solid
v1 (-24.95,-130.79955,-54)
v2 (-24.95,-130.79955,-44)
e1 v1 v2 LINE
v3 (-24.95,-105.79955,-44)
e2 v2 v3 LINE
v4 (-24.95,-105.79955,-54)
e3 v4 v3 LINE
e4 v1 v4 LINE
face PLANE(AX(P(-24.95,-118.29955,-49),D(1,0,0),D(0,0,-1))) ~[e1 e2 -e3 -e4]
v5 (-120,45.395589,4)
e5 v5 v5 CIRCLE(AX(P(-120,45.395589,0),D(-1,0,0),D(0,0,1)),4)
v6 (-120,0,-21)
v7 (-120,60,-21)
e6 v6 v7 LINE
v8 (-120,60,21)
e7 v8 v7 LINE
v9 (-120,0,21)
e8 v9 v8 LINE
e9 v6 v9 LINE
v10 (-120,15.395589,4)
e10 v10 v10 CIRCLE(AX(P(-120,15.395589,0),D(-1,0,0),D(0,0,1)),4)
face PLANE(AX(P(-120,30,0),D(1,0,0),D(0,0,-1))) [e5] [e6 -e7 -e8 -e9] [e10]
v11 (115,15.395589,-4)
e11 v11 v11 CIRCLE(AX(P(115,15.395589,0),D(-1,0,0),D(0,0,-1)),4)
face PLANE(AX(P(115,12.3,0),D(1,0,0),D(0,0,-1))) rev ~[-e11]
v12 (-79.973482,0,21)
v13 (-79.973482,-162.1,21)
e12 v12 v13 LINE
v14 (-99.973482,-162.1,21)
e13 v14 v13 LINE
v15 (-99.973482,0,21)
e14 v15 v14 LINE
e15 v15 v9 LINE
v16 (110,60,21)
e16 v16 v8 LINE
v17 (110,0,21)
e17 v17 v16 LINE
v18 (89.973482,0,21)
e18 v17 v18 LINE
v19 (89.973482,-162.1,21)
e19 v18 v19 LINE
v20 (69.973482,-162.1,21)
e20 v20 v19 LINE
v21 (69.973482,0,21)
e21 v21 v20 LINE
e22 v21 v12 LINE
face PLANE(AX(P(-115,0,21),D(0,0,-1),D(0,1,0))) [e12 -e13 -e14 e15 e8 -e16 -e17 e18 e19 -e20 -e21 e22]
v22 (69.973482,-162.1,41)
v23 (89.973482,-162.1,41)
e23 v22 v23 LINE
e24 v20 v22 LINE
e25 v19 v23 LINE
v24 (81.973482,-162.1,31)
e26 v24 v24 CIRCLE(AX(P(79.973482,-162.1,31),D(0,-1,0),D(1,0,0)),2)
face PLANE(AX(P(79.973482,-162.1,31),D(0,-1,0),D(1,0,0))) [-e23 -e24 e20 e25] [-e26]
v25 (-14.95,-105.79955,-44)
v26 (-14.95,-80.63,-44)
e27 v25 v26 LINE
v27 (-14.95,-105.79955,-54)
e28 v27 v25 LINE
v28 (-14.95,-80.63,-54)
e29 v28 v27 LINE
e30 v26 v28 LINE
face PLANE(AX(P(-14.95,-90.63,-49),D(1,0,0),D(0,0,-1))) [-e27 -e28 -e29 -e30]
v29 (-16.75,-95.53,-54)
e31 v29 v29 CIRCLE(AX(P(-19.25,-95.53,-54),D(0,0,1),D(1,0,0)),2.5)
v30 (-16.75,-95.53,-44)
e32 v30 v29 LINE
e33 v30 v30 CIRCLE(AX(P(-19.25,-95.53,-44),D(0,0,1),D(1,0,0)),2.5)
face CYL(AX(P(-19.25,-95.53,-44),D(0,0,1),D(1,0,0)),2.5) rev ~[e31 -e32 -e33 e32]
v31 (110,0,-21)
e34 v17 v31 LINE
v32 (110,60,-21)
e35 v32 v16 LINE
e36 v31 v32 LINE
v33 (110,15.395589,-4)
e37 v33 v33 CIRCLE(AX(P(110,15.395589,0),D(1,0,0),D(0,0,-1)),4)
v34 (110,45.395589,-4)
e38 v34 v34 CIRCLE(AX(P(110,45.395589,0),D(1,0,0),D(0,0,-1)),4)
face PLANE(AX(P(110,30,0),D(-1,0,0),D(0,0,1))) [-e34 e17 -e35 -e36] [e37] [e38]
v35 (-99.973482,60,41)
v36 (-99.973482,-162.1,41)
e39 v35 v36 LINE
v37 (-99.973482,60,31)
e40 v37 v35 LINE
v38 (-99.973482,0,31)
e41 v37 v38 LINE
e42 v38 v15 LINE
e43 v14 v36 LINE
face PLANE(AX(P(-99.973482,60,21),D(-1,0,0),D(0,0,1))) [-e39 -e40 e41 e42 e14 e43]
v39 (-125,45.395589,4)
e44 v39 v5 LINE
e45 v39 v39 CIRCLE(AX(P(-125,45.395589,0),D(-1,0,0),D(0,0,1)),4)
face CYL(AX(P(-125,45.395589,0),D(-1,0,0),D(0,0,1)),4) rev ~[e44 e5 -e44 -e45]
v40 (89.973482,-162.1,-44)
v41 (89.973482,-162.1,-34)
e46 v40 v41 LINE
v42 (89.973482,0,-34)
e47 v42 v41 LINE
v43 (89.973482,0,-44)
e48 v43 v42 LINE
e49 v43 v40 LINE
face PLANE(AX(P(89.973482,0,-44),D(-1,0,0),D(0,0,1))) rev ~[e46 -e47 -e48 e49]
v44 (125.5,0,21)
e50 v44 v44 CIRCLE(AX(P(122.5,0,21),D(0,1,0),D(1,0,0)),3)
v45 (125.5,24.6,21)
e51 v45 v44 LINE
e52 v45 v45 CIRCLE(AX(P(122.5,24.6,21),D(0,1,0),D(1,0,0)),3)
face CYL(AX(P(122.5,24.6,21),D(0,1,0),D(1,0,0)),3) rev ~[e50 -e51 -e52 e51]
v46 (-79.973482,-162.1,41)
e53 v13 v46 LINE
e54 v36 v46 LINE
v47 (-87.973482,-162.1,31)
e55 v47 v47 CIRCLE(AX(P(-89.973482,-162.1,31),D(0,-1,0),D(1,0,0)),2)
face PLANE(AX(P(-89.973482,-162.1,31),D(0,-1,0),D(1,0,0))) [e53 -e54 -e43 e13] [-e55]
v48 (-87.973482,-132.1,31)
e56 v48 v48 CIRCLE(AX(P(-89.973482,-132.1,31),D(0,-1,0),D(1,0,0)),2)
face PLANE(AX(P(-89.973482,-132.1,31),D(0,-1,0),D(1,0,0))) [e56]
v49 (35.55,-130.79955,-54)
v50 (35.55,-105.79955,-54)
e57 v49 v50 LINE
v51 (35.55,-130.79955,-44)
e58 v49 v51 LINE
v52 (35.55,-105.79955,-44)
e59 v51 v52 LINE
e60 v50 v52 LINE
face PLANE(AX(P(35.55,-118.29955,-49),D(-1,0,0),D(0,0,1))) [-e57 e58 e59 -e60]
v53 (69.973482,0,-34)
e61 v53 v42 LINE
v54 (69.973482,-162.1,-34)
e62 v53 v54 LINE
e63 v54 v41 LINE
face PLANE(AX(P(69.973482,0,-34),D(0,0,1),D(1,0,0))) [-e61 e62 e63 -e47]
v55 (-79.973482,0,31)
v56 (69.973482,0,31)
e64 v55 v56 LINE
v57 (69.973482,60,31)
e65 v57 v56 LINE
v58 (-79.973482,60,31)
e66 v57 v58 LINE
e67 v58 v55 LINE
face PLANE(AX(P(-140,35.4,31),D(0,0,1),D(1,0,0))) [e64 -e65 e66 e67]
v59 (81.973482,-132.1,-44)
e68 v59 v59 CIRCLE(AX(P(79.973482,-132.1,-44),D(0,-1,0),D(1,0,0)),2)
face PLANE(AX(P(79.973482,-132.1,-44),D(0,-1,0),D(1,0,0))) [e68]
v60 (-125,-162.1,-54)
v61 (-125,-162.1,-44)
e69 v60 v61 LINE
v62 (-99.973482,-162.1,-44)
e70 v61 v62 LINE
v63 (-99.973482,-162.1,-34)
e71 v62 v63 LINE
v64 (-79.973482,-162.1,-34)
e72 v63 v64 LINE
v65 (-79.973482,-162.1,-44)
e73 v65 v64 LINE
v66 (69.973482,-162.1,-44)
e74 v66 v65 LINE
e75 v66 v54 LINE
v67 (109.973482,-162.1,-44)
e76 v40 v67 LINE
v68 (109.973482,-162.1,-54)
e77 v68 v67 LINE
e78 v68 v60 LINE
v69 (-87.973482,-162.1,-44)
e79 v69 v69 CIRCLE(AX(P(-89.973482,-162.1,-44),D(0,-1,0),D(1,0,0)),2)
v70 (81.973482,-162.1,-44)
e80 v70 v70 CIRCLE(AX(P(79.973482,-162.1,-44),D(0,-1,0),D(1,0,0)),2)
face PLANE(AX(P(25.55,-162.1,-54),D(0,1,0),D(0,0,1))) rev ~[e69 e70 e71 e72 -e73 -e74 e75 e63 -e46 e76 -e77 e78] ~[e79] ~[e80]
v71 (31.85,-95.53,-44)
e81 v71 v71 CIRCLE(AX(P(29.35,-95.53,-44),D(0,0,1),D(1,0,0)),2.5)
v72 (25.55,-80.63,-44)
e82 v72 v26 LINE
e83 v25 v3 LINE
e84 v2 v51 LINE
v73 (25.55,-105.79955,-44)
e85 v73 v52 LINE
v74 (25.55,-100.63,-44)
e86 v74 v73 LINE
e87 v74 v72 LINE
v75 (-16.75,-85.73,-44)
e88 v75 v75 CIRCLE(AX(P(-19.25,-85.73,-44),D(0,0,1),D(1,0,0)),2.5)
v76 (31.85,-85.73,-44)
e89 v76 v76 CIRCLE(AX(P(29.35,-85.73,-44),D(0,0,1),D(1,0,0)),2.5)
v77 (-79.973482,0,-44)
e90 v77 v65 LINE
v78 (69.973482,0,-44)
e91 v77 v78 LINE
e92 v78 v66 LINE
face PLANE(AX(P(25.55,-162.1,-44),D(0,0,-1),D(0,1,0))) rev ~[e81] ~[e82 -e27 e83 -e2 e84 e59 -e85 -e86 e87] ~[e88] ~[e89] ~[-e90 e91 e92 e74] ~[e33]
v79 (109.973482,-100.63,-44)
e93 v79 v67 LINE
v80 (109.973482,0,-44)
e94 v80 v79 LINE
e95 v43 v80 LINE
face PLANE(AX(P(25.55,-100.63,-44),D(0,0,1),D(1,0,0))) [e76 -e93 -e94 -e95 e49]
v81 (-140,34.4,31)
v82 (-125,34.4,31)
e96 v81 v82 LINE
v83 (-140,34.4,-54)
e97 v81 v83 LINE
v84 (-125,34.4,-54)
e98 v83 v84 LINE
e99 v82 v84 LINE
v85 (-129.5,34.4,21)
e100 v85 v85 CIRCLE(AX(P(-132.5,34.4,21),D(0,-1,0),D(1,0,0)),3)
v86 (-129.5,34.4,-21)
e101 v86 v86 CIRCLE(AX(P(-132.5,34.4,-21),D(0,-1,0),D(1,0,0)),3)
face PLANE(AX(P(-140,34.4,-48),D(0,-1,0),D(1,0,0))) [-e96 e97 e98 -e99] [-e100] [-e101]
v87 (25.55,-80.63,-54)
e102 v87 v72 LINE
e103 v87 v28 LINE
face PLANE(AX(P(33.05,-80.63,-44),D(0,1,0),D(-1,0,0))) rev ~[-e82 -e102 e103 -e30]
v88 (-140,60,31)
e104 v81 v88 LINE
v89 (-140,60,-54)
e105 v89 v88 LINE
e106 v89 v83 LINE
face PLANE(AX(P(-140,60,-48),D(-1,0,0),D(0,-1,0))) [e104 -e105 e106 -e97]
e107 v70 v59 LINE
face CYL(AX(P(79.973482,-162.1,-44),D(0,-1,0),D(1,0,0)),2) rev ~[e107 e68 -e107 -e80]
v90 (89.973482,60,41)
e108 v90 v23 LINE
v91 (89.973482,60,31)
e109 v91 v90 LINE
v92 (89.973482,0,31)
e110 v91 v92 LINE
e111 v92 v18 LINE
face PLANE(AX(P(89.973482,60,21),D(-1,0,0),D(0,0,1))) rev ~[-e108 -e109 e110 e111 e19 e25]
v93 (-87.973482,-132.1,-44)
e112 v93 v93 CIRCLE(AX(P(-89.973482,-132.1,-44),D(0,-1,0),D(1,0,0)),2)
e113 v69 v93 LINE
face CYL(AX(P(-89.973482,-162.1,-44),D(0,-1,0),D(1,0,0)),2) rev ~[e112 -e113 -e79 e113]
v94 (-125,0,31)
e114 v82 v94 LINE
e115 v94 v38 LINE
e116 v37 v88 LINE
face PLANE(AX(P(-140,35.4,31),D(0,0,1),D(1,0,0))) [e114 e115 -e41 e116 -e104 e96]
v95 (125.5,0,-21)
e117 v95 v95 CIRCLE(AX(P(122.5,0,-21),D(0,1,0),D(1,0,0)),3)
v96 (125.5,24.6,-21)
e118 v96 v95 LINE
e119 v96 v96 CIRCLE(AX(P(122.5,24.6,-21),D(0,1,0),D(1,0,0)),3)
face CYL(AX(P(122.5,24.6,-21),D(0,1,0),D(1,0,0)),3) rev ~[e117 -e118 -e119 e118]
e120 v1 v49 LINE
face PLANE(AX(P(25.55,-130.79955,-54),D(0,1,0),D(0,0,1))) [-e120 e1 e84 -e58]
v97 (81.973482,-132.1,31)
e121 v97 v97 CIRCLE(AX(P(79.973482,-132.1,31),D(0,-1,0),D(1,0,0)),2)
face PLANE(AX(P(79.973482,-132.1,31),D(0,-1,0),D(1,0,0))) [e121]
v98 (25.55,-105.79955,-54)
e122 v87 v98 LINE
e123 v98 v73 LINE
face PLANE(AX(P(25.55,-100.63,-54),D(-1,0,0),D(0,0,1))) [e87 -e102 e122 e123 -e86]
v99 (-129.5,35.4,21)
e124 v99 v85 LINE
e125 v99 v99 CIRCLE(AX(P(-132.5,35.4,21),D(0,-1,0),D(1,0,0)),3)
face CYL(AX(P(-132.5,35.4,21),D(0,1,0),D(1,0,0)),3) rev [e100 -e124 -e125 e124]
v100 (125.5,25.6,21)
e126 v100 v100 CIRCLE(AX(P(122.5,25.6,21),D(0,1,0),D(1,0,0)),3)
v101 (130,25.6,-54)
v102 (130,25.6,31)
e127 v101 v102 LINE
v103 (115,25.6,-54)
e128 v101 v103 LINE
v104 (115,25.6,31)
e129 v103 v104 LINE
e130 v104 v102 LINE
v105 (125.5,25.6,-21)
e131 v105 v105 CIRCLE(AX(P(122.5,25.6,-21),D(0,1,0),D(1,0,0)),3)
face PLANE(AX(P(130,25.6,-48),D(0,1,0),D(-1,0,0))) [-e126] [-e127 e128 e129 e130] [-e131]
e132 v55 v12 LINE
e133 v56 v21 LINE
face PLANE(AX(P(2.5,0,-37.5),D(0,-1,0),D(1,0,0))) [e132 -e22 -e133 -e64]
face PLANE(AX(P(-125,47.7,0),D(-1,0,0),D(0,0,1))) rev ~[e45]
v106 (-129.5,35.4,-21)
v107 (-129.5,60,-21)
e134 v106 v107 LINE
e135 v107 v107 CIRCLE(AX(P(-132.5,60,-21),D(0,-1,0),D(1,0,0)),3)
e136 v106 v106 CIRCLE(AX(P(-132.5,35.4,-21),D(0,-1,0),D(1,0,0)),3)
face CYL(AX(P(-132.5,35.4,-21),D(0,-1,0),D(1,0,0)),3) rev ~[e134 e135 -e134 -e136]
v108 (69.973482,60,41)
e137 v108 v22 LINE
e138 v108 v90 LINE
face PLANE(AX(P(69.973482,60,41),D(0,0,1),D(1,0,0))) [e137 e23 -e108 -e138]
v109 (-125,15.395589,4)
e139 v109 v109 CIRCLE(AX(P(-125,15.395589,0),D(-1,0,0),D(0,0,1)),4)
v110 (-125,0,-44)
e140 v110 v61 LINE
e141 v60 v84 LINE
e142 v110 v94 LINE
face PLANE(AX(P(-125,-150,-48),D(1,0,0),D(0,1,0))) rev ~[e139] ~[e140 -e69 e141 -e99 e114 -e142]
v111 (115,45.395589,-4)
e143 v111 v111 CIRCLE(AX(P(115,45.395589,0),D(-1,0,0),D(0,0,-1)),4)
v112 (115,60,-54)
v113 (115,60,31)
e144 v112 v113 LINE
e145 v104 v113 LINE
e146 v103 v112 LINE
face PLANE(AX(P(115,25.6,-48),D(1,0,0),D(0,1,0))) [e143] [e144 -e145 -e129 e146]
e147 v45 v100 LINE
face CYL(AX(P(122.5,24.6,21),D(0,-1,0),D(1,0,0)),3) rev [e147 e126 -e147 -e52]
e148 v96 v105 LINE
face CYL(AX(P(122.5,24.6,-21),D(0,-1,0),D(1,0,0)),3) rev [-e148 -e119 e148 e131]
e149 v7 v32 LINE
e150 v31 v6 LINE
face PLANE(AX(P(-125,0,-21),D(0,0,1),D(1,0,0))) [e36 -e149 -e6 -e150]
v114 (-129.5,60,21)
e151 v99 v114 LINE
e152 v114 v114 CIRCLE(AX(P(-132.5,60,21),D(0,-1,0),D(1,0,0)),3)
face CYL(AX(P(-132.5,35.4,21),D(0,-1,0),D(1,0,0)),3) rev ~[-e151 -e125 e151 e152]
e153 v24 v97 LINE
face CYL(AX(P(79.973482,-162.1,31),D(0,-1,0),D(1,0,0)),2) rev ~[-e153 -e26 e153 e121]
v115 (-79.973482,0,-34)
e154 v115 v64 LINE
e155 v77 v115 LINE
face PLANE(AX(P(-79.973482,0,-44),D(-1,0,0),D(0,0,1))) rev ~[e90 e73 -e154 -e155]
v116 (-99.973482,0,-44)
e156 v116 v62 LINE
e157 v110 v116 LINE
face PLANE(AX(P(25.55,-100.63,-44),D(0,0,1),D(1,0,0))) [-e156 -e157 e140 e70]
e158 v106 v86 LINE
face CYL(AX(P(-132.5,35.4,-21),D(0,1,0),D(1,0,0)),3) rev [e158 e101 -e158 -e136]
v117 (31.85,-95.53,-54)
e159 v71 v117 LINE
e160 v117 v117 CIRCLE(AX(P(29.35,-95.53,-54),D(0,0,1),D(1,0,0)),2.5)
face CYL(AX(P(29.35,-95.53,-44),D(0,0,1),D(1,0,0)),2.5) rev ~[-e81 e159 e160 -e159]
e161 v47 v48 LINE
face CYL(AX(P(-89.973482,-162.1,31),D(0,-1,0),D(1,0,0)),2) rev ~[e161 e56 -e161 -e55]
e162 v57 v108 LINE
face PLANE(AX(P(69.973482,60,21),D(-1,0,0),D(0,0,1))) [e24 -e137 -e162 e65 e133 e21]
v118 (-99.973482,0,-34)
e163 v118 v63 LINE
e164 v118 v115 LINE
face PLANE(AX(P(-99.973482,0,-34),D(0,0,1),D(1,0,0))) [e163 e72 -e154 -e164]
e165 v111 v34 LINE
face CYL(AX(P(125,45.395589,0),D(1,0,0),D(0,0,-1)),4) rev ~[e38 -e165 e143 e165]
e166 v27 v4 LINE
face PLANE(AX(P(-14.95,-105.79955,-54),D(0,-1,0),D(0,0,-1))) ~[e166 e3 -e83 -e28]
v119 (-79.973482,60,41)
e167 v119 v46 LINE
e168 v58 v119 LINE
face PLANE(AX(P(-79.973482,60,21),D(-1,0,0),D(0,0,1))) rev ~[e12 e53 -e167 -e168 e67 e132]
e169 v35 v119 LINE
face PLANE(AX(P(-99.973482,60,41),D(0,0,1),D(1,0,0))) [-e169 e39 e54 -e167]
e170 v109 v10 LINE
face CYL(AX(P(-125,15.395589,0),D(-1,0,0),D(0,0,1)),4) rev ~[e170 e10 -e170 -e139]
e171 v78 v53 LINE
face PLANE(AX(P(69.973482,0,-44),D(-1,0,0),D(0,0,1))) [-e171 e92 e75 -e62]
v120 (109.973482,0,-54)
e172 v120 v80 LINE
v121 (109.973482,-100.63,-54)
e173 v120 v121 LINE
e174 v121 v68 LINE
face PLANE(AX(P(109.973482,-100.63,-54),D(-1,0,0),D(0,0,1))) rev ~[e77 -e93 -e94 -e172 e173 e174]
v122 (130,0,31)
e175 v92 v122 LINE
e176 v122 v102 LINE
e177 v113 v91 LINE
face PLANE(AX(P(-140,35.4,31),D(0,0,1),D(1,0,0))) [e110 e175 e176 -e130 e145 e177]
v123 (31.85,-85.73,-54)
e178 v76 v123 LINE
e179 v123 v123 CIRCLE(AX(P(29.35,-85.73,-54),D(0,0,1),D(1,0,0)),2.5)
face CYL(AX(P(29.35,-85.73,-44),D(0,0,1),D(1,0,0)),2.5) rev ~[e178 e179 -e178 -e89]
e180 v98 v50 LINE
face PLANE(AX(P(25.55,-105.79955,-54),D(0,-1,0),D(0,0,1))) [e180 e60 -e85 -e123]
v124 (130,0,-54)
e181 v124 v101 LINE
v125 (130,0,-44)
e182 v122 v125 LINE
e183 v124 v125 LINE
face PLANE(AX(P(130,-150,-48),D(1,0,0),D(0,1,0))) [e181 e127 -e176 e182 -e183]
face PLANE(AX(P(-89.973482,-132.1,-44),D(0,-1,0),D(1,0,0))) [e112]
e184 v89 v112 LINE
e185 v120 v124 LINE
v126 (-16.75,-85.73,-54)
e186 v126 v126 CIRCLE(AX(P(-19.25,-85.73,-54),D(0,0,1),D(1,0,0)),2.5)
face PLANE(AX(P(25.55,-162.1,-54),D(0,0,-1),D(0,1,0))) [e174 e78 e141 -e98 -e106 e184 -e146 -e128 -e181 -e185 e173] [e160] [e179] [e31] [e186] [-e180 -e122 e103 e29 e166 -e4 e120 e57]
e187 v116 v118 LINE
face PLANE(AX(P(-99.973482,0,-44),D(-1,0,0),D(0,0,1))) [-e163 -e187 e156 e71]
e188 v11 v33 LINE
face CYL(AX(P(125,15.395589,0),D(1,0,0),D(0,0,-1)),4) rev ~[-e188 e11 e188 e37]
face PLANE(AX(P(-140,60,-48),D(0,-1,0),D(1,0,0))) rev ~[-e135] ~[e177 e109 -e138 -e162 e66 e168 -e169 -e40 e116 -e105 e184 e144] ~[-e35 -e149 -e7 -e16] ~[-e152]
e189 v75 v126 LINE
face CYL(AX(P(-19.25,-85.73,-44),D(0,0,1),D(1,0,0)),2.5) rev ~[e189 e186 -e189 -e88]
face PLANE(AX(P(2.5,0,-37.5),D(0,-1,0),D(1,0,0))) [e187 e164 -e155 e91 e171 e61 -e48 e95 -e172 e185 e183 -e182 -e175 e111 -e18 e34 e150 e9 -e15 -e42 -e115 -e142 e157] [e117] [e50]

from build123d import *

# Parameters (mm, degrees)
SKETCH2_W            = 230
SKETCH2_H            = 42
BOSS_EXTRUDE1_DEPTH  = 60
BOSS_EXTRUDE2_DEPTH  = 150
SKETCH5_R            = 4
CUT_EXTRUDE1_DEPTH   = 277
SKETCH7_R            = 4
BOSS_EXTRUDE3_DEPTH  = 20
SKETCH7_2_R          = 4
CUT_EXTRUDE2_DEPTH   = 10
SKETCH8_W            = 62
SKETCH8_H            = 24.6
BOSS_EXTRUDE4_DEPTH  = 14
SKETCH9_W            = 62
SKETCH9_H            = 24.6
BOSS_EXTRUDE5_DEPTH  = 14
SKETCH15_W           = 42
SKETCH15_H           = 60
SKETCH15_R           = 4
CUT_EXTRUDE3_DEPTH   = 5
SKETCH17_W           = 42
SKETCH17_H           = 60
SKETCH17_R           = 4
CUT_EXTRUDE4_DEPTH   = 5
SKETCH18_W           = 1
SKETCH18_H           = 62
BOSS_EXTRUDE9_DEPTH  = 24.6
SKETCH18_3_R         = 3
CUT_EXTRUDE5_DEPTH   = 35
SKETCH19_W           = 1
SKETCH19_H           = 62
BOSS_EXTRUDE10_DEPTH = 24.6
SKETCH19_3_R         = 3
CUT_EXTRUDE6_DEPTH   = 27
SKETCH20_W           = 15
SKETCH20_H           = 62
SKETCH20_R           = 3
BOSS_EXTRUDE11_DEPTH = 1
SKETCH21_W           = 15
SKETCH21_H           = 62
SKETCH21_R           = 3
BOSS_EXTRUDE12_DEPTH = 1
SKETCH23_W           = 255
SKETCH23_H           = 10
BOSS_EXTRUDE13_DEPTH = 150
SKETCH25_W           = 251.390716306
SKETCH25_H           = 22.262694164
CUT_EXTRUDE7_DEPTH   = 150
BOSS_EXTRUDE16_DEPTH = 17
CUT_EXTRUDE8_DEPTH   = 150
SKETCH28_W           = 255
SKETCH28_H           = 13
CUT_EXTRUDE9_DEPTH   = 167
BOSS_EXTRUDE18_DEPTH = 6
CUT_EXTRUDE10_DEPTH  = 43
SKETCH32_W           = 10
SKETCH32_H           = 20
BOSS_EXTRUDE19_DEPTH = 7.5
SKETCH33_W           = 10
SKETCH33_H           = 20
BOSS_EXTRUDE20_DEPTH = 8
SKETCH38_R           = 2.5
CUT_EXTRUDE12_DEPTH  = 16
SKETCH40_W           = 20.026518065
SKETCH40_H           = 12.666252083
CUT_EXTRUDE13_DEPTH  = 116
SKETCH41_W           = 84.423481935
SKETCH41_H           = 10
SKETCH41_W_2         = 110.05
BOSS_EXTRUDE21_DEPTH = 61.47
SKETCH42_W           = 10
SKETCH42_H           = 25
CUT_EXTRUDE14_DEPTH  = 10
SKETCH40_3_W         = 20
SKETCH40_3_H         = 10
BOSS_EXTRUDE22_DEPTH = 162.1
SKETCH43_W           = 10
SKETCH43_H           = 31.300449652
BOSS_EXTRUDE23_DEPTH = 40.5
BOSS_EXTRUDE24_START = -60
SKETCH46_W           = 20
SKETCH46_H           = 20
BOSS_EXTRUDE24_DEPTH = 222.1
SKETCH48_R           = 2
CUT_EXTRUDE15_DEPTH  = 30


with BuildPart() as part:
    # Sketch2 → Boss-Extrude1 (new body)
    with BuildSketch(Plane(origin=(0, 0, 0), x_dir=(1, 0, 0), z_dir=(0, 1, 0))):
        Polygon((-125, -31), (125, -31), (125, -21), (125, 0), (125, 21), (125, 31), (-125, 31), (-125, 21), (-125, 0), (-125, -21), align=None)
        Rectangle(SKETCH2_W, SKETCH2_H, mode=Mode.SUBTRACT)
    extrude(amount=BOSS_EXTRUDE1_DEPTH)

    # Sketch4 → Boss-Extrude2 (add)
    with BuildSketch(Plane.XZ):
        Polygon((125, 31), (-125, 31), (-125, 21), (-115, 21), (125, 21), align=None)
    extrude(amount=BOSS_EXTRUDE2_DEPTH)

    # Sketch5 → Cut-Extrude1 (cut)
    with BuildSketch(Plane.ZY.offset(125)):
        with Locations((0, 15.395589143)):
            Circle(SKETCH5_R)
        with Locations((0, 45.395589143)):
            Circle(SKETCH5_R)
    extrude(amount=-CUT_EXTRUDE1_DEPTH, mode=Mode.SUBTRACT)

    # Sketch7 → Boss-Extrude3 (add)
    with BuildSketch(Plane(origin=(125, 0, 0), x_dir=(0, 0, -1), z_dir=(1, 0, 0))):
        Polygon((-21, -150), (-31, -150), (-31, 60), (31, 60), (31, 0), (-21, 0), align=None)
        with Locations((0, 15.395589143)):
            Circle(SKETCH7_R, mode=Mode.SUBTRACT)
        with Locations((0, 45.395589143)):
            Circle(SKETCH7_R, mode=Mode.SUBTRACT)
    extrude(amount=-BOSS_EXTRUDE3_DEPTH)

    # Sketch7<2> → Cut-Extrude2 (cut)
    with BuildSketch(Plane(origin=(125, 0, 0), x_dir=(0, 0, -1), z_dir=(1, 0, 0))):
        Polygon((-21, -150), (-31, -150), (-31, 60), (31, 60), (31, 0), (-21, 0), align=None)
        with Locations((0, 15.395589143)):
            Circle(SKETCH7_2_R, mode=Mode.SUBTRACT)
        with Locations((0, 45.395589143)):
            Circle(SKETCH7_2_R, mode=Mode.SUBTRACT)
    extrude(amount=-CUT_EXTRUDE2_DEPTH, mode=Mode.SUBTRACT)

    # Sketch8 → Boss-Extrude4 (add)
    with BuildSketch(Plane(origin=(115, 0, 0), x_dir=(0, 0, -1), z_dir=(1, 0, 0))):
        with Locations((0, 12.3)):
            Rectangle(SKETCH8_W, SKETCH8_H)
    extrude(amount=BOSS_EXTRUDE4_DEPTH)

    # Sketch9 → Boss-Extrude5 (add)
    with BuildSketch(Plane.ZY.offset(125)):
        with Locations((0, 47.7)):
            Rectangle(SKETCH9_W, SKETCH9_H)
    extrude(amount=BOSS_EXTRUDE5_DEPTH)

    # Sketch15 → Cut-Extrude3 (cut)
    with BuildSketch(Plane.ZY.offset(-105)):
        with Locations((0, 30)):
            Rectangle(SKETCH15_W, SKETCH15_H)
        with Locations((0, 15.395589143)):
            Circle(SKETCH15_R, mode=Mode.SUBTRACT)
        with Locations((0, 45.395589143)):
            Circle(SKETCH15_R, mode=Mode.SUBTRACT)
    extrude(amount=-CUT_EXTRUDE3_DEPTH, mode=Mode.SUBTRACT)

    # Sketch17 → Cut-Extrude4 (cut)
    with BuildSketch(Plane(origin=(-115, 0, 0), x_dir=(0, 0, -1), z_dir=(1, 0, 0))):
        with Locations((0, 30)):
            Rectangle(SKETCH17_W, SKETCH17_H)
        with Locations((0, 45.395589143)):
            Circle(SKETCH17_R, mode=Mode.SUBTRACT)
        with Locations((0, 15.395589143)):
            Circle(SKETCH17_R, mode=Mode.SUBTRACT)
    extrude(amount=-CUT_EXTRUDE4_DEPTH, mode=Mode.SUBTRACT)

    # Sketch18 → Boss-Extrude9 (add)
    with BuildSketch(Plane.XZ.offset(-35.4)):
        with Locations((-139.5, 0)):
            Rectangle(SKETCH18_W, SKETCH18_H)
    extrude(amount=-BOSS_EXTRUDE9_DEPTH)

    # Sketch18<3> → Cut-Extrude5 (cut)
    with BuildSketch(Plane.XZ.offset(-35.4)):
        with Locations((-132.5, 21)):
            Circle(SKETCH18_3_R)
        with Locations((-132.5, -21)):
            Circle(SKETCH18_3_R)
    extrude(amount=-CUT_EXTRUDE5_DEPTH, mode=Mode.SUBTRACT)

    # Sketch19 → Boss-Extrude10 (add)
    with BuildSketch(Plane(origin=(0, 24.6, 0), x_dir=(1, 0, 0), z_dir=(0, 1, 0))):
        with Locations((129.5, 0)):
            Rectangle(SKETCH19_W, SKETCH19_H)
    extrude(amount=-BOSS_EXTRUDE10_DEPTH)

    # Sketch19<3> → Cut-Extrude6 (cut)
    with BuildSketch(Plane(origin=(0, 24.6, 0), x_dir=(1, 0, 0), z_dir=(0, 1, 0))):
        with Locations((122.5, 21)):
            Circle(SKETCH19_3_R)
        with Locations((122.5, -21)):
            Circle(SKETCH19_3_R)
    extrude(amount=-CUT_EXTRUDE6_DEPTH, mode=Mode.SUBTRACT)

    # Sketch20 → Boss-Extrude11 (add)
    with BuildSketch(Plane(origin=(0, 24.6, 0), x_dir=(1, 0, 0), z_dir=(0, 1, 0))):
        with Locations((122.5, 0)):
            Rectangle(SKETCH20_W, SKETCH20_H)
        with Locations((122.5, -21)):
            Circle(SKETCH20_R, mode=Mode.SUBTRACT)
        with Locations((122.5, 21)):
            Circle(SKETCH20_R, mode=Mode.SUBTRACT)
    extrude(amount=BOSS_EXTRUDE11_DEPTH)

    # Sketch21 → Boss-Extrude12 (add)
    with BuildSketch(Plane.XZ.offset(-35.4)):
        with Locations((-132.5, 0)):
            Rectangle(SKETCH21_W, SKETCH21_H)
        with Locations((-132.5, 21)):
            Circle(SKETCH21_R, mode=Mode.SUBTRACT)
        with Locations((-132.5, -21)):
            Circle(SKETCH21_R, mode=Mode.SUBTRACT)
    extrude(amount=BOSS_EXTRUDE12_DEPTH)

    # Sketch23 → Boss-Extrude13 (add)
    with BuildSketch(Plane.XZ):
        with Locations((2.5, -26)):
            Rectangle(SKETCH23_W, SKETCH23_H)
    extrude(amount=BOSS_EXTRUDE13_DEPTH)

    # Sketch25 → Cut-Extrude7 (cut)
    with BuildSketch(Plane.XZ):
        with Locations((-4.583562675, 27.327499947)):
            Rectangle(SKETCH25_W, SKETCH25_H)
    extrude(amount=CUT_EXTRUDE7_DEPTH, mode=Mode.SUBTRACT)

    # Sketch26 → Boss-Extrude16 (add)
    with BuildSketch(Plane(origin=(0, 0, -31), x_dir=(-1, 0, 0), z_dir=(0, 0, -1))):
        Polygon((125, -150), (-130, -150), (-130, 25.6), (-115, 25.6), (-115, 60), (125, 60), (140, 60), (140, 34.4), (125, 34.4), (125, 25.6), align=None)
    extrude(amount=BOSS_EXTRUDE16_DEPTH)

    # Sketch27 → Cut-Extrude8 (cut)
    with BuildSketch(Plane.XZ):
        Polygon((110, -31), (132.347433228, -31), (132.347433228, -21), (110, -21), (-153.412168614, -21), (-153.412168614, -31), align=None)
    extrude(amount=CUT_EXTRUDE8_DEPTH, mode=Mode.SUBTRACT)

    # Sketch28 → Cut-Extrude9 (cut)
    with BuildSketch(Plane.XZ):
        with Locations((2.5, -37.5)):
            Rectangle(SKETCH28_W, SKETCH28_H)
    extrude(amount=CUT_EXTRUDE9_DEPTH, mode=Mode.SUBTRACT)

    # Sketch29 → Boss-Extrude18 (add)
    with BuildSketch(Plane(origin=(0, 0, -48), x_dir=(-1, 0, 0), z_dir=(0, 0, -1))):
        Polygon((125, -150), (-130, -150), (-130, 25.6), (-115, 25.6), (-115, 60), (125, 60), (140, 60), (140, 34.4), (125, 34.4), (125, 25.6), align=None)
    extrude(amount=BOSS_EXTRUDE18_DEPTH)

    # Sketch31 → Cut-Extrude10 (cut)
    with BuildSketch(Plane.XY.offset(-44)):
        Polygon((33.05, -150), (130, -150), (130, -100.63), (33.05, -100.63), (33.05, -80.63), (-22.95, -80.63), (-22.95, -100.63), (-125, -100.63), (-125, -150), align=None)
    extrude(amount=-CUT_EXTRUDE10_DEPTH, mode=Mode.SUBTRACT)

    # Sketch32 → Boss-Extrude19 (add)
    with BuildSketch(Plane.ZY.offset(-33.05)):
        with Locations((-49, -90.63)):
            Rectangle(SKETCH32_W, SKETCH32_H)
    extrude(amount=BOSS_EXTRUDE19_DEPTH)

    # Sketch33 → Boss-Extrude20 (add)
    with BuildSketch(Plane(origin=(-22.95, 0, 0), x_dir=(0, 0, -1), z_dir=(1, 0, 0))):
        with Locations((49, -90.63)):
            Rectangle(SKETCH33_W, SKETCH33_H)
    extrude(amount=BOSS_EXTRUDE20_DEPTH)

    # Sketch38 → Cut-Extrude12 (cut)
    with BuildSketch(Plane.XY.offset(-44)):
        with Locations((29.35, -95.53)):
            Circle(SKETCH38_R)
        with Locations((29.35, -85.73)):
            Circle(SKETCH38_R)
        with Locations((-19.25, -95.53)):
            Circle(SKETCH38_R)
        with Locations((-19.25, -85.73)):
            Circle(SKETCH38_R)
    extrude(amount=-CUT_EXTRUDE12_DEPTH, mode=Mode.SUBTRACT)

    # Sketch40 → Cut-Extrude13 (cut)
    with BuildSketch(Plane.XZ):
        with Locations((119.986740967, -50.333126042)):
            Rectangle(SKETCH40_W, SKETCH40_H)
    extrude(amount=CUT_EXTRUDE13_DEPTH, mode=Mode.SUBTRACT)

    # Sketch41 → Boss-Extrude21 (add)
    with BuildSketch(Plane.XZ.offset(100.63)):
        with Locations((67.761740968, -49)):
            Rectangle(SKETCH41_W, SKETCH41_H)
        with Locations((-69.975, -49)):
            Rectangle(SKETCH41_W_2, SKETCH41_H)
    extrude(amount=BOSS_EXTRUDE21_DEPTH)

    # Sketch42 → Cut-Extrude14 (cut)
    with BuildSketch(Plane.ZY.offset(-25.55)):
        with Locations((-49, -118.299550348)):
            Rectangle(SKETCH42_W, SKETCH42_H)
    cut_extrude14 = extrude(amount=-CUT_EXTRUDE14_DEPTH, mode=Mode.SUBTRACT)

    # Mirror1: Cut-Extrude14 across plane
    add(cut_extrude14.mirror(Plane.ZY.offset(-5.3)), mode=Mode.SUBTRACT)

    # Sketch40<3> → Boss-Extrude22 (add)
    with BuildSketch(Plane.XZ):
        with Locations((79.973481935, -39)):
            Rectangle(SKETCH40_3_W, SKETCH40_3_H)
        with Locations((-89.973481935, -39)):
            Rectangle(SKETCH40_3_W, SKETCH40_3_H)
    extrude(amount=BOSS_EXTRUDE22_DEPTH)

    # Sketch43 → Boss-Extrude23 (add)
    with BuildSketch(Plane.ZY.offset(-25.55)):
        with Locations((-49, -146.449775174)):
            Rectangle(SKETCH43_W, SKETCH43_H)
    extrude(amount=BOSS_EXTRUDE23_DEPTH)

    # Sketch46 → Boss-Extrude24 (add)
    with BuildSketch(Plane.XZ.offset(BOSS_EXTRUDE24_START)):
        with Locations((79.973481935, 31)):
            Rectangle(SKETCH46_W, SKETCH46_H)
        with Locations((-89.973481935, 31)):
            Rectangle(SKETCH46_W, SKETCH46_H)
    extrude(amount=BOSS_EXTRUDE24_DEPTH)

    # Sketch48 → Cut-Extrude15 (cut)
    with BuildSketch(Plane.XZ.offset(162.1)):
        with Locations((79.973481935, 31)):
            Circle(SKETCH48_R)
        with Locations((79.973481935, -44)):
            Circle(SKETCH48_R)
        with Locations((-89.973481935, 31)):
            Circle(SKETCH48_R)
        with Locations((-89.973481935, -44)):
            Circle(SKETCH48_R)
    extrude(amount=-CUT_EXTRUDE15_DEPTH, mode=Mode.SUBTRACT)


solid = part.part
